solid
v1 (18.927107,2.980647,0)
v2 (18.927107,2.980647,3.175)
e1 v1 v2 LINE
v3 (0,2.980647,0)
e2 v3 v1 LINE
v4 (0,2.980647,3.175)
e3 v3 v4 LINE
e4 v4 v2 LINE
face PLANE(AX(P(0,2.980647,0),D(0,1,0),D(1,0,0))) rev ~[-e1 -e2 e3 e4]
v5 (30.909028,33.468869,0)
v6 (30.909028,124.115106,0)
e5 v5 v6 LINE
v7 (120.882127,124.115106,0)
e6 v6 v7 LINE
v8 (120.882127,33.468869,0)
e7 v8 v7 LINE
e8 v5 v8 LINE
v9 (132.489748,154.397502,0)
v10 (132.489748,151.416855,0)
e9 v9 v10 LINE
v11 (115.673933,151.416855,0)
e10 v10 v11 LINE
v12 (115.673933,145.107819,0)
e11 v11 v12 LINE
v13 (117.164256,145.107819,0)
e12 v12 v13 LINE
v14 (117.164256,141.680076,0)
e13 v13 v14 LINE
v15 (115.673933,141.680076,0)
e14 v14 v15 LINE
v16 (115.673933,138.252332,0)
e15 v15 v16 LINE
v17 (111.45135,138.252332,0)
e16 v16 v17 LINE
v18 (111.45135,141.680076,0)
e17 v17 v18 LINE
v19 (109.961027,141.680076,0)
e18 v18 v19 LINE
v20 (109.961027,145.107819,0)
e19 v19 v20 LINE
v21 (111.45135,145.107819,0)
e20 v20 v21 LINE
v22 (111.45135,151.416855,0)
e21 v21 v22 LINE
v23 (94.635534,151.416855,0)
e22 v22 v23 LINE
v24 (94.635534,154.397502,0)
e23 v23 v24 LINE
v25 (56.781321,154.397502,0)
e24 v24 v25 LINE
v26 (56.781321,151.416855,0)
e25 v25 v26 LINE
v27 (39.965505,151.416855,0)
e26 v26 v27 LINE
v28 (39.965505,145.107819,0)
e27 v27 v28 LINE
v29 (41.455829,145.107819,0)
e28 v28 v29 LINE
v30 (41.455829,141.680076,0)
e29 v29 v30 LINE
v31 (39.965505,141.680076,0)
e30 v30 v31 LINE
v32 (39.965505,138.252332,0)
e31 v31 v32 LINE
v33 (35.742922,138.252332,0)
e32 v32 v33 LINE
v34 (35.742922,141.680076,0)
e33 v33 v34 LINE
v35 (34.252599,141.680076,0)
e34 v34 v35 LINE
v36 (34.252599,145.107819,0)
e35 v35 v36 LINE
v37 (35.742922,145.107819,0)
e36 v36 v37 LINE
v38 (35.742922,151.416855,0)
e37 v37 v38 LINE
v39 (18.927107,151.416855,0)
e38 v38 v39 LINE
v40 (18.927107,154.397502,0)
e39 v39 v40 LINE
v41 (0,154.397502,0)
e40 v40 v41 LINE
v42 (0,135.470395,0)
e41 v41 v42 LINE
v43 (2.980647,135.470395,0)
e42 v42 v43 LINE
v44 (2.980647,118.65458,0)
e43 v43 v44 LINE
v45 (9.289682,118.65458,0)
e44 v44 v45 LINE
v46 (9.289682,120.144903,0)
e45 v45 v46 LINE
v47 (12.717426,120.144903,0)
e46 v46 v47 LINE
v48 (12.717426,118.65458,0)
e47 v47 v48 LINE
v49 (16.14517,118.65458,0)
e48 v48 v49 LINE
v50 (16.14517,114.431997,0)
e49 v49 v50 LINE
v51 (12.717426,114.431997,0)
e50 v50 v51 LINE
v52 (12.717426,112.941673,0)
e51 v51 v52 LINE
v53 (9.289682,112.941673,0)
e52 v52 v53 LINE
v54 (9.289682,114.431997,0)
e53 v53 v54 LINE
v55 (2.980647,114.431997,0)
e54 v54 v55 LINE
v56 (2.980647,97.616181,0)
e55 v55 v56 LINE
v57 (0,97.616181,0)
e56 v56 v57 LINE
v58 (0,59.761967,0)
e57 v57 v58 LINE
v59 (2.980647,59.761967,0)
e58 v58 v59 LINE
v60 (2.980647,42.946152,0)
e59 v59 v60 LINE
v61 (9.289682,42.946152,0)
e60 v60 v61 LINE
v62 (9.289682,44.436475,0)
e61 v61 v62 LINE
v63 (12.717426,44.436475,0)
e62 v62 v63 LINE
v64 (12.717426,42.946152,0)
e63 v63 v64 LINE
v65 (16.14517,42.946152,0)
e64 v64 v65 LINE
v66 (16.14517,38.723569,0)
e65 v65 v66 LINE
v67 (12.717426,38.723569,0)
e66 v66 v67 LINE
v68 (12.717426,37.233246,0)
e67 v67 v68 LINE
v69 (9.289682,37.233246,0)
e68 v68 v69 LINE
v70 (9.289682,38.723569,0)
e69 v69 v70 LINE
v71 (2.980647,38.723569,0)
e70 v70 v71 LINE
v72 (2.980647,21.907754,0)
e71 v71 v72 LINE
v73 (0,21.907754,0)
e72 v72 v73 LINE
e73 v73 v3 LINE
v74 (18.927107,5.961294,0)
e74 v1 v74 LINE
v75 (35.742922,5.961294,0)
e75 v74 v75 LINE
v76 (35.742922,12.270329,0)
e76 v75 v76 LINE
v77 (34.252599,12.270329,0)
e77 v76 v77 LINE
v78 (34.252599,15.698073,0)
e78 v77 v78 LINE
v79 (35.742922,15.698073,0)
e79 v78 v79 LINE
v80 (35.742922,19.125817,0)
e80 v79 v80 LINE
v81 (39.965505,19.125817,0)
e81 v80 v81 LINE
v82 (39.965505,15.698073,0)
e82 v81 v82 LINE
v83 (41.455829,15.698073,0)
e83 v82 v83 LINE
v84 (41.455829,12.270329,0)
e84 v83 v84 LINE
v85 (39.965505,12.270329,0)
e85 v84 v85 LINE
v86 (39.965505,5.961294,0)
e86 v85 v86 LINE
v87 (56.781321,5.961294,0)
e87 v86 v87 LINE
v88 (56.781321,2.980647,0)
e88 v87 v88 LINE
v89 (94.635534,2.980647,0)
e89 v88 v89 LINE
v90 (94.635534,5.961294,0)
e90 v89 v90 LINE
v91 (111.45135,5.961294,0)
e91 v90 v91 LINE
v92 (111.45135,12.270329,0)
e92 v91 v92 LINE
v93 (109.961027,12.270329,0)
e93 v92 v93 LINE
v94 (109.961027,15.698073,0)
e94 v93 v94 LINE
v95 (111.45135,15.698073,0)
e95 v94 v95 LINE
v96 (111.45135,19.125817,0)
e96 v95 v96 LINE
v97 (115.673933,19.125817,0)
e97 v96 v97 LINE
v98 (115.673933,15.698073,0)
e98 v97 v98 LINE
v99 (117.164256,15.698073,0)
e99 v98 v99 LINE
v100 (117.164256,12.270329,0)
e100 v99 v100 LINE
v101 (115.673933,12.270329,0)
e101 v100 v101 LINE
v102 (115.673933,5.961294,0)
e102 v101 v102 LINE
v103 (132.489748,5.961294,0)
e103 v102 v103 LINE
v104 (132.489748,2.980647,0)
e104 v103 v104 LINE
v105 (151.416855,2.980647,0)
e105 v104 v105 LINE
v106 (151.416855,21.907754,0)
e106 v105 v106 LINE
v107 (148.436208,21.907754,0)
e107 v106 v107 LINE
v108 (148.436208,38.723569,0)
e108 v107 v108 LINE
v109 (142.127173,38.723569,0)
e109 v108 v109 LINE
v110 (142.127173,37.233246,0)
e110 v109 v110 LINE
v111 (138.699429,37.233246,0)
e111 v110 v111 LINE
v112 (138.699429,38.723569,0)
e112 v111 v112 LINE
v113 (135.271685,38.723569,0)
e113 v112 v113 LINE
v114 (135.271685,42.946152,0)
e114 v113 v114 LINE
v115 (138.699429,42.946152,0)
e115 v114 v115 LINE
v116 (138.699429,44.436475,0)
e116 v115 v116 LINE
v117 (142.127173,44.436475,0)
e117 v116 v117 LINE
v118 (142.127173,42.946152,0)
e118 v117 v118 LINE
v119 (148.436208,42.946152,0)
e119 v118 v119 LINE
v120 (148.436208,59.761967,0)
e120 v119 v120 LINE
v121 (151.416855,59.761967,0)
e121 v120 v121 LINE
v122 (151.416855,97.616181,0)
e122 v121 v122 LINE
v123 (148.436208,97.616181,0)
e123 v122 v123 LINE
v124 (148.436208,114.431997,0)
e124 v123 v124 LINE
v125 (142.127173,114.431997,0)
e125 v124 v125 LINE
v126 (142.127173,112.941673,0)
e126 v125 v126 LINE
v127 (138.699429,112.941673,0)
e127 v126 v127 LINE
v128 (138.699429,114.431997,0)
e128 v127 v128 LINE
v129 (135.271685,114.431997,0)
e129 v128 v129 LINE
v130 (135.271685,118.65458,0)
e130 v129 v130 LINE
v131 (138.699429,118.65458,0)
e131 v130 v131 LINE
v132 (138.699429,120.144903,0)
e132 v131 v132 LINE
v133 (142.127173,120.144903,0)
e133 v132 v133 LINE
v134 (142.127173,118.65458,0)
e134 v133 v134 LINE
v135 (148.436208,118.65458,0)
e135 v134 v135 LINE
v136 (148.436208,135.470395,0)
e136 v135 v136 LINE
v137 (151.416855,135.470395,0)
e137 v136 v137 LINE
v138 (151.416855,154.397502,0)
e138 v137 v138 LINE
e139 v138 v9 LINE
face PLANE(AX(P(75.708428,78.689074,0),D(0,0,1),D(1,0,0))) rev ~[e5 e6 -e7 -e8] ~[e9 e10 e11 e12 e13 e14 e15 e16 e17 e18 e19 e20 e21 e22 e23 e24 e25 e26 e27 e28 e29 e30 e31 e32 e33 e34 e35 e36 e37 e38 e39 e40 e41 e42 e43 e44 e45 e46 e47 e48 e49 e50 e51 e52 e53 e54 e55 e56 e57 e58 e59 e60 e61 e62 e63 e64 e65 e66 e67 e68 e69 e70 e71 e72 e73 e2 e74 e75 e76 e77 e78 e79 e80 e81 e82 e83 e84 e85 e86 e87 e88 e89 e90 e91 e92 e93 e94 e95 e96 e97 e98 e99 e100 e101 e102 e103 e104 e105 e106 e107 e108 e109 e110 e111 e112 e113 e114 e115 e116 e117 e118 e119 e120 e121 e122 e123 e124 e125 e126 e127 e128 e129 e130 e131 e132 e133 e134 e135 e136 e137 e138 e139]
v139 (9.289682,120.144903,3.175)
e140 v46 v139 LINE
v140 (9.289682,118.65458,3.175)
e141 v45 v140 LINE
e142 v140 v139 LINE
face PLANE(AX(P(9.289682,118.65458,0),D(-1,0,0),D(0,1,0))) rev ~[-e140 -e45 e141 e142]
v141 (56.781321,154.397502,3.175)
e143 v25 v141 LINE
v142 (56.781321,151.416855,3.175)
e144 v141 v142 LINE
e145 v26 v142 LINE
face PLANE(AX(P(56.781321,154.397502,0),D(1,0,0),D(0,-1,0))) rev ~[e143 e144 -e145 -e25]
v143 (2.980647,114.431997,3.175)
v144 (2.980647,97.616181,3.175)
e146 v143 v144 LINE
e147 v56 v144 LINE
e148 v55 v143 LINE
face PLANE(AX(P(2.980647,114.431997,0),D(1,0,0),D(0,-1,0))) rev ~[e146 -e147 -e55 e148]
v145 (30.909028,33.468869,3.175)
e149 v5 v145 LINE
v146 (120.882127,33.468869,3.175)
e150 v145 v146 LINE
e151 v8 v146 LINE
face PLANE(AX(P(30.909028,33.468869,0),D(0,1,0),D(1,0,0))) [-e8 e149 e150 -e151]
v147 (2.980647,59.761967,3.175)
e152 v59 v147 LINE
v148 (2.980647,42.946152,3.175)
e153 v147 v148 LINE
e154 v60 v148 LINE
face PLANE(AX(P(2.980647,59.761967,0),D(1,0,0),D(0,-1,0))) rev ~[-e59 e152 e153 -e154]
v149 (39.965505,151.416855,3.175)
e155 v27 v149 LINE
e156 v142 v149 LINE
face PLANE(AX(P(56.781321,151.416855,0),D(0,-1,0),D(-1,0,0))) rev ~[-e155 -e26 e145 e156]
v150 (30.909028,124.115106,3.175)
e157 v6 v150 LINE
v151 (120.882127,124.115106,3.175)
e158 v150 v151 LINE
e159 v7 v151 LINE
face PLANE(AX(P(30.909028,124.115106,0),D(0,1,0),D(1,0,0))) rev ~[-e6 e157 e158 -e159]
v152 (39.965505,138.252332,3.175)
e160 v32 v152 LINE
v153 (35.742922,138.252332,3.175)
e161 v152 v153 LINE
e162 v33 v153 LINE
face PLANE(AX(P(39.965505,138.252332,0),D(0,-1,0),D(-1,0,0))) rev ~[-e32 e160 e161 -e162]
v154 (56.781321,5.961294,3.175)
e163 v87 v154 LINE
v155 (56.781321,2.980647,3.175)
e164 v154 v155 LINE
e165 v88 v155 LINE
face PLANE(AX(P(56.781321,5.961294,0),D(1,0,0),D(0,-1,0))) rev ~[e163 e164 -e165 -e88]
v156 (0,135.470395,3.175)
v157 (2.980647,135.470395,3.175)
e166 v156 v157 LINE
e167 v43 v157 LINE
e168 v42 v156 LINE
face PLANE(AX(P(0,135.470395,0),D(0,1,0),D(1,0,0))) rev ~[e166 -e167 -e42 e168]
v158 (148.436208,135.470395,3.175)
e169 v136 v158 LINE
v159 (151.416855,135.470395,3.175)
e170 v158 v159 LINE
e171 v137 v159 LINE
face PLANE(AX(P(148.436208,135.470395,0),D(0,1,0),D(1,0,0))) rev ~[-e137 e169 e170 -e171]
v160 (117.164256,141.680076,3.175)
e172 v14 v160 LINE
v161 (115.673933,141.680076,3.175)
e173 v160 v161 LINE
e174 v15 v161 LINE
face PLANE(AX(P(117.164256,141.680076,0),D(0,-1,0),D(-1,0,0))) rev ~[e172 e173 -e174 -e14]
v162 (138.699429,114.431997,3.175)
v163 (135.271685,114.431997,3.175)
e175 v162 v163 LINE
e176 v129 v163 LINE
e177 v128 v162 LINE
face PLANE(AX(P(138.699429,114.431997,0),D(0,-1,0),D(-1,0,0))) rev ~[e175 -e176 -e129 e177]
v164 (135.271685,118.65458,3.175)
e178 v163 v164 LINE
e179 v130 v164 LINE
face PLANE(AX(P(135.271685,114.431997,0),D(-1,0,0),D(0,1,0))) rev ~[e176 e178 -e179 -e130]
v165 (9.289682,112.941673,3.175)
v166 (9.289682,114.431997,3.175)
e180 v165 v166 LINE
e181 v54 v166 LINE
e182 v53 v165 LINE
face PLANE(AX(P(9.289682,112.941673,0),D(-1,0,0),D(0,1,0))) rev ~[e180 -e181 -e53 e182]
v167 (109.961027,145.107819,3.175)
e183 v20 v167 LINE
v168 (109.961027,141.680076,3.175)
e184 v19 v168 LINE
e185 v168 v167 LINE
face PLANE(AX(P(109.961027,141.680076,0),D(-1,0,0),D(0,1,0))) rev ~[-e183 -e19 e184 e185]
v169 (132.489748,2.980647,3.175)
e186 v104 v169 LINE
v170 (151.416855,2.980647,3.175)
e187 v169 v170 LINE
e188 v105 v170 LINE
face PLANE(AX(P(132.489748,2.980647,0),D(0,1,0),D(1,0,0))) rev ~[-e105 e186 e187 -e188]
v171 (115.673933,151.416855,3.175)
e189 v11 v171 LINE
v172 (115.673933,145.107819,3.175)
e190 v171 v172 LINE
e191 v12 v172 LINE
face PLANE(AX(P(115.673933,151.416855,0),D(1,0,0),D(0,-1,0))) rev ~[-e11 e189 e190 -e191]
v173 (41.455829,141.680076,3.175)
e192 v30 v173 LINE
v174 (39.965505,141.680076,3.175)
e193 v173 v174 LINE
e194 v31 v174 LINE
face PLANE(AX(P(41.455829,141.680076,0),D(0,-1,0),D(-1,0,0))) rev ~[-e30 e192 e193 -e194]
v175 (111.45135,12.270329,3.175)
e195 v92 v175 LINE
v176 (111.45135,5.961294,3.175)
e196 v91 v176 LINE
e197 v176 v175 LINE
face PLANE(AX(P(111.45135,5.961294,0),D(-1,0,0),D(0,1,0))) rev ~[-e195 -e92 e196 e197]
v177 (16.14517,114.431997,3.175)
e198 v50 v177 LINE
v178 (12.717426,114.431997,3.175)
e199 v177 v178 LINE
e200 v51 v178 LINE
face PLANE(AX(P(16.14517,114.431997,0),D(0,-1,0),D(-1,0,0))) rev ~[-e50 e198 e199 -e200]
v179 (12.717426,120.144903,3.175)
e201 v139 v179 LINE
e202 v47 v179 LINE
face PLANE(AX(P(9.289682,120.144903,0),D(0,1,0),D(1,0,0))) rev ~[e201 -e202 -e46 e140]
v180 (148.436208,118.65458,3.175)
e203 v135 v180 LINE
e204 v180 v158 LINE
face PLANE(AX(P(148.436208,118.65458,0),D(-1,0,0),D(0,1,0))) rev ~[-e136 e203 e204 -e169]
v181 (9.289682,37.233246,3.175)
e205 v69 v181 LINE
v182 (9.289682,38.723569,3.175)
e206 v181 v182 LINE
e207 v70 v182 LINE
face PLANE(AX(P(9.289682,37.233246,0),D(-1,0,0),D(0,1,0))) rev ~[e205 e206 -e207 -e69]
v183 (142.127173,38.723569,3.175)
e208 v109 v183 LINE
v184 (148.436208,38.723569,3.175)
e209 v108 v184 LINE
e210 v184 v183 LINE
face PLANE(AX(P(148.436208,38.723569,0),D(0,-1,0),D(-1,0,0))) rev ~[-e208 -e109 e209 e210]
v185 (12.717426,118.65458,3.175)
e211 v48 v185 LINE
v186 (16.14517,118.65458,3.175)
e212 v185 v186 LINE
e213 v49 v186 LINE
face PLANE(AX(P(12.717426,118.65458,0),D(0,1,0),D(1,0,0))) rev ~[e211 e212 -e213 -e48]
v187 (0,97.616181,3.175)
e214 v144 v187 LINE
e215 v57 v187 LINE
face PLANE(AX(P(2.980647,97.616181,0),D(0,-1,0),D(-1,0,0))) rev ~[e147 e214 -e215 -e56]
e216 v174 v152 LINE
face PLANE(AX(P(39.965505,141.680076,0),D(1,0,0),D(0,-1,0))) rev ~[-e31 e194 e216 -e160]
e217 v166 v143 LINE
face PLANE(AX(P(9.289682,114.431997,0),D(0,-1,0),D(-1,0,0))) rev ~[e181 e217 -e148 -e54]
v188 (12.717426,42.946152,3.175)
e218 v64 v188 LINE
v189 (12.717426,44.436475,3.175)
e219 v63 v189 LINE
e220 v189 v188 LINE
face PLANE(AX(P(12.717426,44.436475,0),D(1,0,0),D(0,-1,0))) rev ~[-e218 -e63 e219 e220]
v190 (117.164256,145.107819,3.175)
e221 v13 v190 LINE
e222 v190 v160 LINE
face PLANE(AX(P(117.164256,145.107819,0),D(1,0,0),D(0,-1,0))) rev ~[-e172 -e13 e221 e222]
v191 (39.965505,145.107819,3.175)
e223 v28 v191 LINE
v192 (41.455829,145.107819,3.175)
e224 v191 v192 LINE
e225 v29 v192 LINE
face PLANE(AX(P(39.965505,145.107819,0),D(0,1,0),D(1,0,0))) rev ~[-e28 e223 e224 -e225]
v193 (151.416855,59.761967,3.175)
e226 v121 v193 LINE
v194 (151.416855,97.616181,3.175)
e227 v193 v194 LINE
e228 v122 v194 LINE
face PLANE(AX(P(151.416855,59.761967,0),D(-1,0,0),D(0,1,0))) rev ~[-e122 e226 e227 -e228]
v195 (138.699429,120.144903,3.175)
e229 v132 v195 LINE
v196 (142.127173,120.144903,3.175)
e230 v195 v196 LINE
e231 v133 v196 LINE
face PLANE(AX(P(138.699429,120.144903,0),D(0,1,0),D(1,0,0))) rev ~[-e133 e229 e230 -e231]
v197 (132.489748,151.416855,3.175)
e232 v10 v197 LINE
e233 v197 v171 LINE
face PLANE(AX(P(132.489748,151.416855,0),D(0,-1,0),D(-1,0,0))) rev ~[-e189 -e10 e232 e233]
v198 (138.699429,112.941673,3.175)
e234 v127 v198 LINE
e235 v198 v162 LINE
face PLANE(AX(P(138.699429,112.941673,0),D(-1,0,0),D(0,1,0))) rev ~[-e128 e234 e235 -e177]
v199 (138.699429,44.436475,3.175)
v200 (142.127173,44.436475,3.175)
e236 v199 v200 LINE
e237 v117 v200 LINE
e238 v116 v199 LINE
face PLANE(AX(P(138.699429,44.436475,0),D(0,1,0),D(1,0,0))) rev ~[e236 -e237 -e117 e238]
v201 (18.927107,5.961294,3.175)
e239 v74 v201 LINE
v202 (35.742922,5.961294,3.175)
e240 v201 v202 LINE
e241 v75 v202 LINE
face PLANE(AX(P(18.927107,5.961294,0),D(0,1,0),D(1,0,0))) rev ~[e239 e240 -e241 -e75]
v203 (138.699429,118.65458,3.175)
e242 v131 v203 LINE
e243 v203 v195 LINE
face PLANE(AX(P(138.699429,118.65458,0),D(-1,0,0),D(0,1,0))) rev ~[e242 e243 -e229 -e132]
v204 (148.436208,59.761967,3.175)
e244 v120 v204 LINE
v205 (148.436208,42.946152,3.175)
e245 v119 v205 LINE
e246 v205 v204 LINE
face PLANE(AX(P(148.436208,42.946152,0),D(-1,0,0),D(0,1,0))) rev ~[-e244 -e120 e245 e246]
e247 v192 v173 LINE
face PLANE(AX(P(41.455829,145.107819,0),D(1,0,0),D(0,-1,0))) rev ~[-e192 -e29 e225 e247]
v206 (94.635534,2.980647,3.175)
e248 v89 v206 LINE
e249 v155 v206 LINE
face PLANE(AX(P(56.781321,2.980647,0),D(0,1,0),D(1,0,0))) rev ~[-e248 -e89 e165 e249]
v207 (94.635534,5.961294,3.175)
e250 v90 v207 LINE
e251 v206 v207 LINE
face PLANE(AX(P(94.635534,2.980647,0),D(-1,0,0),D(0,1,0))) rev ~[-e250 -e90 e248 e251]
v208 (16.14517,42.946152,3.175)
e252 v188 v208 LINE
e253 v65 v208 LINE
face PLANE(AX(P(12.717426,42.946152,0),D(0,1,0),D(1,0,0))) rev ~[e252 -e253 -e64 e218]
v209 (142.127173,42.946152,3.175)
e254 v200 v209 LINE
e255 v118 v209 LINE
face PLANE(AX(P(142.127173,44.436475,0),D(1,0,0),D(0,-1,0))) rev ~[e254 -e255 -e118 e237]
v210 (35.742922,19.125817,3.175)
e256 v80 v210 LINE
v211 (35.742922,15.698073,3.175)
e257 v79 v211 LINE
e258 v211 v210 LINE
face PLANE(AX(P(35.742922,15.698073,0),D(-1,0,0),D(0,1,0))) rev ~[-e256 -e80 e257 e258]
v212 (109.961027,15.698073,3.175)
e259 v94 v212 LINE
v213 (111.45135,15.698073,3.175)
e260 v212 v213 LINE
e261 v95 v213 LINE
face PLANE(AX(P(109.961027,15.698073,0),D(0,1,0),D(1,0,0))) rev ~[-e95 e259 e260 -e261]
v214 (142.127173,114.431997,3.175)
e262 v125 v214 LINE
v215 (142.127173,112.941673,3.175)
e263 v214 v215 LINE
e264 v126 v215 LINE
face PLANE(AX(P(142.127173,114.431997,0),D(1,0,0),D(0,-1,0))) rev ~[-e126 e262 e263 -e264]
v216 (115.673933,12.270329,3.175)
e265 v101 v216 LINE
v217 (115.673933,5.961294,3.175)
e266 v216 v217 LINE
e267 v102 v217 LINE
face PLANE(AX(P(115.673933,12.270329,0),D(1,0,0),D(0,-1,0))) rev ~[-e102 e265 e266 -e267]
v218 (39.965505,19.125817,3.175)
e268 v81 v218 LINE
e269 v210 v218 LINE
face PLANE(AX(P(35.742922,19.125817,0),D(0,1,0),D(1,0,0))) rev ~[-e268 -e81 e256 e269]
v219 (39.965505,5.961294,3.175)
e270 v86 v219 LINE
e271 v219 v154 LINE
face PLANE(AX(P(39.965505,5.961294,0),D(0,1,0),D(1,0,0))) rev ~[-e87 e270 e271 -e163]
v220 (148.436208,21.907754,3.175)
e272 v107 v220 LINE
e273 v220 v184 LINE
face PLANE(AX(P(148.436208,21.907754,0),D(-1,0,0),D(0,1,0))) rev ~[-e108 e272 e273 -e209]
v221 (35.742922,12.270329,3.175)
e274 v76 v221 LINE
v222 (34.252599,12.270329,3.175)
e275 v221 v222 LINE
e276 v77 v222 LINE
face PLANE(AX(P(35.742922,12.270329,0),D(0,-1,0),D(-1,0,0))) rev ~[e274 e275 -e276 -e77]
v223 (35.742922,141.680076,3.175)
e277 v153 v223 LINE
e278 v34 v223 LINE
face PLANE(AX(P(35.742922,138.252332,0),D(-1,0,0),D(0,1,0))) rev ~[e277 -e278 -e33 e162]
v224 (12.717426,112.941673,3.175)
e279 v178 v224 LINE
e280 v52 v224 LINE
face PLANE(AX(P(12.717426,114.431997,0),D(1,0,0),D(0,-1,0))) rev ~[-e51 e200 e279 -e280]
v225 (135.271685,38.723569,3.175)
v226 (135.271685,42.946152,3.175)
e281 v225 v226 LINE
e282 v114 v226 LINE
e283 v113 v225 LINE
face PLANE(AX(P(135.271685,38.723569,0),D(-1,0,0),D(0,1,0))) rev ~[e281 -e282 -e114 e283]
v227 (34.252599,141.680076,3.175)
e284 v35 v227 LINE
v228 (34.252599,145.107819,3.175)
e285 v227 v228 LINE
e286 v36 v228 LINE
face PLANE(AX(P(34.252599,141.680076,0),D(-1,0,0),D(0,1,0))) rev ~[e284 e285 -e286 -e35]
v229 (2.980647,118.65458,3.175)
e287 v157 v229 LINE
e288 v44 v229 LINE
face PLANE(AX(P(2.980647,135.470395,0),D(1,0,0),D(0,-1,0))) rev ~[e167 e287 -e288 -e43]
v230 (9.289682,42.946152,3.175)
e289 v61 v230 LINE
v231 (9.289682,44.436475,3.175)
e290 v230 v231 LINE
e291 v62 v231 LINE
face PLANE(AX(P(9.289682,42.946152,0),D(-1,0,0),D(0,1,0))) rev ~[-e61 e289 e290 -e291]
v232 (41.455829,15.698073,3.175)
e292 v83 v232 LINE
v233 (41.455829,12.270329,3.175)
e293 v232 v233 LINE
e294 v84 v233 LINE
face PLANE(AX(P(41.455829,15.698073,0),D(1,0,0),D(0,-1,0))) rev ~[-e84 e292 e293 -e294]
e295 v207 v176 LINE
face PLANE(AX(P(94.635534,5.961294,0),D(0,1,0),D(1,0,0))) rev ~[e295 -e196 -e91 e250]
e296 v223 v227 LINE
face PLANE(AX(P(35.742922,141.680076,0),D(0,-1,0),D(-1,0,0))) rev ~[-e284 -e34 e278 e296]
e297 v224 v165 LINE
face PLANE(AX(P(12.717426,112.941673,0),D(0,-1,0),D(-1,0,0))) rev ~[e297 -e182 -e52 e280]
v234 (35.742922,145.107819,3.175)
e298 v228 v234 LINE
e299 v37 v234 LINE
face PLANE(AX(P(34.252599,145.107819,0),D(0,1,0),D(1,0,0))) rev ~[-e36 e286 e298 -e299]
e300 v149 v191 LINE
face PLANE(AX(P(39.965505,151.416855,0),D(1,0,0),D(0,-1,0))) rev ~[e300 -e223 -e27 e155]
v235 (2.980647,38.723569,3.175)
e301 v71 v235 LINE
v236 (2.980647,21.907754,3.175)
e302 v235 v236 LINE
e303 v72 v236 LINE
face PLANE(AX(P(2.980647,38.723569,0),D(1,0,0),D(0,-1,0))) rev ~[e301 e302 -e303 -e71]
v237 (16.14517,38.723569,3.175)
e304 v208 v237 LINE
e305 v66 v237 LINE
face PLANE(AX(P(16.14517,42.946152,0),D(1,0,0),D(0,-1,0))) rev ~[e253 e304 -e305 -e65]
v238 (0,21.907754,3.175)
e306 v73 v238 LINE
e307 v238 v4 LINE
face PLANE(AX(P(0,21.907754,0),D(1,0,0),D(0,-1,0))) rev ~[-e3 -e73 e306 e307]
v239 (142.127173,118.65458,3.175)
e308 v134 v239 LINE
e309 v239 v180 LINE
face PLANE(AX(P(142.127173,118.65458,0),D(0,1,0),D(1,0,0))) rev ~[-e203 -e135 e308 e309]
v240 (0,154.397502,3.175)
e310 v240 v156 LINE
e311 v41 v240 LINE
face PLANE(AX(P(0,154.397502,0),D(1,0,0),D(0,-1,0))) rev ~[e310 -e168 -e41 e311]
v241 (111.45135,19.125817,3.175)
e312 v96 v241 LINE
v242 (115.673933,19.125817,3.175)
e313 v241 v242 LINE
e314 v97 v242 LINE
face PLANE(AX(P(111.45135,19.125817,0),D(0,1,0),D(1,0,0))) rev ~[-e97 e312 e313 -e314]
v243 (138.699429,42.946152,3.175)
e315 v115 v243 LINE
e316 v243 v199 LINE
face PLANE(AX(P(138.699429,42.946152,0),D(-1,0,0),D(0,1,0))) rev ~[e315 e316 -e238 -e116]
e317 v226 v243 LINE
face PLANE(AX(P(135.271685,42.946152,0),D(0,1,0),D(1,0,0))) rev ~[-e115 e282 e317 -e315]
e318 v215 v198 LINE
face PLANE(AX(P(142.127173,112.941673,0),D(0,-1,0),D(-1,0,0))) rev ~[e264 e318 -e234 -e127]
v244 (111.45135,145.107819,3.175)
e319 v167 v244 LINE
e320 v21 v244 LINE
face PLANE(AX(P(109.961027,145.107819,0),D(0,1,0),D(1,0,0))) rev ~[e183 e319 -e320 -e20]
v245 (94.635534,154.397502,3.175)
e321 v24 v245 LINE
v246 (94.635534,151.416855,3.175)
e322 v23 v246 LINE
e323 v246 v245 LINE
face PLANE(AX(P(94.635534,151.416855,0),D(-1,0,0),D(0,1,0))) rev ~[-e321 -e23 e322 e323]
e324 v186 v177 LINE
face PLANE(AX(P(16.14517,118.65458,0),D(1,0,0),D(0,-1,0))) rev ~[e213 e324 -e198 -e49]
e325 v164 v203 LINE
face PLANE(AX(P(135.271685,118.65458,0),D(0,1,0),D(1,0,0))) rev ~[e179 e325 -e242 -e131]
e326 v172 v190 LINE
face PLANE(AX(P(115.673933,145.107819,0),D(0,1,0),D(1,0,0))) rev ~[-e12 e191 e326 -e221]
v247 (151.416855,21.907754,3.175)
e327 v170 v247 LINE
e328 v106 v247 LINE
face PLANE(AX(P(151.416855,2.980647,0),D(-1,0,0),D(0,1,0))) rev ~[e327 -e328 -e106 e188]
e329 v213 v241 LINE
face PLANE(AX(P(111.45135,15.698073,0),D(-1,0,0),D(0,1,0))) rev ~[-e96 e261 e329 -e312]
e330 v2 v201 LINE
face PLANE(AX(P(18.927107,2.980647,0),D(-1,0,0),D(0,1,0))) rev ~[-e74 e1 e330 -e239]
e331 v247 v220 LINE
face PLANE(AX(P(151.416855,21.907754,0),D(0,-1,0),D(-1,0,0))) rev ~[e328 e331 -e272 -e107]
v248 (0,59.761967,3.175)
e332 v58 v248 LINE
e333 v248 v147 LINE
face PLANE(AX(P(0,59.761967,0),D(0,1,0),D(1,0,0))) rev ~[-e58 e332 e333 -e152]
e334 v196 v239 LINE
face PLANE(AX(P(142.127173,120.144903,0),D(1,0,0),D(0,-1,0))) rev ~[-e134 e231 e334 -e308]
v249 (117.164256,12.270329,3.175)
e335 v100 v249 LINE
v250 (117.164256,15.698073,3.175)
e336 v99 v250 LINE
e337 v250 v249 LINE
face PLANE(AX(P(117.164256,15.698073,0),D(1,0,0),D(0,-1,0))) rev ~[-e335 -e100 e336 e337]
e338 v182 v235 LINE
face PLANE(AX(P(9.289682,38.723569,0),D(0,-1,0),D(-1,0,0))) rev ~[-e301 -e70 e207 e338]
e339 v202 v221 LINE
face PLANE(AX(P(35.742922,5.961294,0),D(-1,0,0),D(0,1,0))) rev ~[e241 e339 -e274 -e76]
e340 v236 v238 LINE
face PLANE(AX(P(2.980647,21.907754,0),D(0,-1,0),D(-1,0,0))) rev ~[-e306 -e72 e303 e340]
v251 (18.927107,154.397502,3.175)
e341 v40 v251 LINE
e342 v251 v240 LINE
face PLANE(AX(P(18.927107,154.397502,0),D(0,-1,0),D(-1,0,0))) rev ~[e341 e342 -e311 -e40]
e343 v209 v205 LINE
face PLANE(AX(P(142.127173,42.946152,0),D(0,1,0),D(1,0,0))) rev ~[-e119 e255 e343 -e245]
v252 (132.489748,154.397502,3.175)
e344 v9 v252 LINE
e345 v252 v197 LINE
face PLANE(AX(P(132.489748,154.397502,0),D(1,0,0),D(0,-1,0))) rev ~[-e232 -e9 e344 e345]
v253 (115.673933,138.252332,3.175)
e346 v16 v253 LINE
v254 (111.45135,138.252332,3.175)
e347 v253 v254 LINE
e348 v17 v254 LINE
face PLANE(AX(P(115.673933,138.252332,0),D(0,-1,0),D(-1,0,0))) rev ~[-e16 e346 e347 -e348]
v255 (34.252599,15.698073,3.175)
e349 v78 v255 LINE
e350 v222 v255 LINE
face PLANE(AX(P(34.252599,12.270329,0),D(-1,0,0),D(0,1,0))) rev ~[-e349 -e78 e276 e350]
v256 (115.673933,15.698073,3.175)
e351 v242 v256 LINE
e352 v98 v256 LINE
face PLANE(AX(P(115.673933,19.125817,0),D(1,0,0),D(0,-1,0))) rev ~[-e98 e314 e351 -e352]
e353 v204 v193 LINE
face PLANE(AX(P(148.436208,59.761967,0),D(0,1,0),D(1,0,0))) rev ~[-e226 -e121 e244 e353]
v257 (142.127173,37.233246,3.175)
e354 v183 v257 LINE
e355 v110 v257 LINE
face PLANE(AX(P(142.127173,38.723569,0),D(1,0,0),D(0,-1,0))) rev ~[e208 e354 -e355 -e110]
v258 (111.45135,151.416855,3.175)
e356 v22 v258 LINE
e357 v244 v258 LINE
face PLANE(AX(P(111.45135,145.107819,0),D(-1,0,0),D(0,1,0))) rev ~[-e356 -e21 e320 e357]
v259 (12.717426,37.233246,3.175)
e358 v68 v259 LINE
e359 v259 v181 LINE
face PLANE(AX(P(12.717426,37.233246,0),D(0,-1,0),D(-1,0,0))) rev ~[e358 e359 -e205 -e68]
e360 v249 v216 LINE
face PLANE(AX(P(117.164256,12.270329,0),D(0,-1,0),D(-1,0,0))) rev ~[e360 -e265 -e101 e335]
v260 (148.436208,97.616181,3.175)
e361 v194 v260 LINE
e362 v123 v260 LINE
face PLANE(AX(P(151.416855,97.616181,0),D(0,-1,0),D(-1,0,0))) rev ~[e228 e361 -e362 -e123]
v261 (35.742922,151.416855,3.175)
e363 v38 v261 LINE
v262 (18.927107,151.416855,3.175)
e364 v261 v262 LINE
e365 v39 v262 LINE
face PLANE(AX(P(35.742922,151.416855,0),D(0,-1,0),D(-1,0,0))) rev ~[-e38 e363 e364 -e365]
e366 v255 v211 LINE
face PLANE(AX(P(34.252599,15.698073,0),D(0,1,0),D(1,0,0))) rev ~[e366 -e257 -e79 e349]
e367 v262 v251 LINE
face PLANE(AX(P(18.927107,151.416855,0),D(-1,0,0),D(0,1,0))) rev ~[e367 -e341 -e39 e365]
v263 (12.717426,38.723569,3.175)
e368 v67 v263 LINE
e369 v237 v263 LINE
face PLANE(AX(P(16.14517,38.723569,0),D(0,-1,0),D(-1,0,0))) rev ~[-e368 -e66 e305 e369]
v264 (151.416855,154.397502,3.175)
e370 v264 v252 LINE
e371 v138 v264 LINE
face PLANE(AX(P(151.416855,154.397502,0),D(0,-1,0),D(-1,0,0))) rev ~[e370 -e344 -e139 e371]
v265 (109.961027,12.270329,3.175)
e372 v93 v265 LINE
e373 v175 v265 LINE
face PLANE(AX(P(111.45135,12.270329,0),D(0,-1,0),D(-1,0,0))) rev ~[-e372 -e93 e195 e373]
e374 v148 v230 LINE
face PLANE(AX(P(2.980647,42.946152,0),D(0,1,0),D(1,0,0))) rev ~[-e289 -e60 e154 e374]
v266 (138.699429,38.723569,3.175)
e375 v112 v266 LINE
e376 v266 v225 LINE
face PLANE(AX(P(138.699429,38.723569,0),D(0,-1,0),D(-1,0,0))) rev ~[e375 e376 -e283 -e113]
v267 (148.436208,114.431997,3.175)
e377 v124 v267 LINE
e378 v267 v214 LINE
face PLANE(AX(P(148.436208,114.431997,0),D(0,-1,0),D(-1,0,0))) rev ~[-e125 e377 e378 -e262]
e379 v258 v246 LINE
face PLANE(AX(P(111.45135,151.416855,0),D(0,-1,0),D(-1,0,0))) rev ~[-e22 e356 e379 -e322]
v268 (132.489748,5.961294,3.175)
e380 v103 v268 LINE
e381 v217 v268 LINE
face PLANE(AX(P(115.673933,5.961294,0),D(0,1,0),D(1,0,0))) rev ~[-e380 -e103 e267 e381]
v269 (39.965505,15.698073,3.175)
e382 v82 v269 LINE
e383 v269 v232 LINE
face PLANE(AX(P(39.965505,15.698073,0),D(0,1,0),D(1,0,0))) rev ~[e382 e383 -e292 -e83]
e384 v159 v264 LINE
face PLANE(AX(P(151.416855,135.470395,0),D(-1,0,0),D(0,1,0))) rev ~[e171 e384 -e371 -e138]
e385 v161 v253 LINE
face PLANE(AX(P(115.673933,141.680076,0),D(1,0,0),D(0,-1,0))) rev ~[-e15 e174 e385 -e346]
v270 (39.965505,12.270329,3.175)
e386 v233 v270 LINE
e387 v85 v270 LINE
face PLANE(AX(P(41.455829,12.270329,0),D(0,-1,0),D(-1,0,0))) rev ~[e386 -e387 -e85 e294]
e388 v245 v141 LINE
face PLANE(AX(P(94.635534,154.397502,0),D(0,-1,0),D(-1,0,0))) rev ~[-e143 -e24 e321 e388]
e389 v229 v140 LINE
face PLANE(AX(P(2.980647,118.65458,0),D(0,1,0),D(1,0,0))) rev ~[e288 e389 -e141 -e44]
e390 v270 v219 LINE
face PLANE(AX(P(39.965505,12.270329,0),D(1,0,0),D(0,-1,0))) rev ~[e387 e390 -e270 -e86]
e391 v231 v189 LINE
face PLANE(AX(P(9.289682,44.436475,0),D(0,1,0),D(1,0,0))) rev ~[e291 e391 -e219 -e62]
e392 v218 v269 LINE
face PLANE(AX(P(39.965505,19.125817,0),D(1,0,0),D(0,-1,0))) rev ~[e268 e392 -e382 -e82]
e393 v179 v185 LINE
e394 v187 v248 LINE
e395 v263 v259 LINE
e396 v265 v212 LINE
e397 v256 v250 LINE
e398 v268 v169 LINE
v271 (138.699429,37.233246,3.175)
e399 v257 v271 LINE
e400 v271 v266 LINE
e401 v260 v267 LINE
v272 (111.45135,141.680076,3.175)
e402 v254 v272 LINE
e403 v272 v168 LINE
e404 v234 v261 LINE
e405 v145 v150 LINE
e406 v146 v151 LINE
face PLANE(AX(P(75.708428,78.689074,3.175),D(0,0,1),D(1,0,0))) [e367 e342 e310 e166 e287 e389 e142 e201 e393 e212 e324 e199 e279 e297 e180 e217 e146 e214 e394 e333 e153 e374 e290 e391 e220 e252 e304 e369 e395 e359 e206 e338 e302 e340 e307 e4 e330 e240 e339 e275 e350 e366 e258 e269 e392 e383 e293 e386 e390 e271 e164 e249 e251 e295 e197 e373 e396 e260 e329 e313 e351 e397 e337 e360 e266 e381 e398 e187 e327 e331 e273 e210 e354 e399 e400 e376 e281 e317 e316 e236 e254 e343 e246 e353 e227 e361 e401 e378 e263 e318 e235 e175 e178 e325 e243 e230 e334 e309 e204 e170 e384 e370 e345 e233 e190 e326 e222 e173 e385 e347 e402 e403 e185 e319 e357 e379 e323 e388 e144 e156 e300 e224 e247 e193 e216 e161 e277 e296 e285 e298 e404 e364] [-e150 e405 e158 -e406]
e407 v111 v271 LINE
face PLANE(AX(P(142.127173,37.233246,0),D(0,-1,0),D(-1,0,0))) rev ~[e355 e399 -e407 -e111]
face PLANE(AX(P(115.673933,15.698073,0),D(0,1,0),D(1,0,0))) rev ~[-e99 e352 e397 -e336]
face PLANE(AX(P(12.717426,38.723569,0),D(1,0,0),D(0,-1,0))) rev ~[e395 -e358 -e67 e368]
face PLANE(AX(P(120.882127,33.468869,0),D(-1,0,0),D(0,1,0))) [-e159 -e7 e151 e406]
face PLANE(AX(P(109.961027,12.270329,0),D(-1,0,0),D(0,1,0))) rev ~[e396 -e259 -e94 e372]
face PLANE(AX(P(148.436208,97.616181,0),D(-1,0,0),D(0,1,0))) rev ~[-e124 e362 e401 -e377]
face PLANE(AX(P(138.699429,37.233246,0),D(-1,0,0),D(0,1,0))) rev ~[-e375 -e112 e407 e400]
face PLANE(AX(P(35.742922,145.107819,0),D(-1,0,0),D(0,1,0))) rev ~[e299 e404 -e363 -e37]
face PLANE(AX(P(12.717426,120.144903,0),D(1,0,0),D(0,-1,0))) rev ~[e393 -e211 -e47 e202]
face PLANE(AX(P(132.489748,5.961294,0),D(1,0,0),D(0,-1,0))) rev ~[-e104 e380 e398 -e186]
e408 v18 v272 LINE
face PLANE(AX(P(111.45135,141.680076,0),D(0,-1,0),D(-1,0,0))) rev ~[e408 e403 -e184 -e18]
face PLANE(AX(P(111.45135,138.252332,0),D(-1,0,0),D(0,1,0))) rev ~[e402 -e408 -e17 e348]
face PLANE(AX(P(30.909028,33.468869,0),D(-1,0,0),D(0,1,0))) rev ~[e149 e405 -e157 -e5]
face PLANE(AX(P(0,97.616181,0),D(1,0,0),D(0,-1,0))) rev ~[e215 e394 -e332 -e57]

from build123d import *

# Parameters (mm, degrees)
SKETCH1_W           = 89.973098965
SKETCH1_H           = 90.646237782
BOSS_EXTRUDE1_DEPTH = 3.175


with BuildPart() as part:
    # Sketch1 → Boss-Extrude1 (new body)
    with BuildSketch(Plane.XY):
        Polygon((0, 154.39750188), (0, 135.470394989), (2.980646754, 135.470394989), (2.980646754, 118.65457955), (9.289682385, 118.65457955), (9.289682385, 120.144902927), (12.717426152, 120.144902927), (12.717426152, 118.65457955), (16.14516992, 118.65457955), (16.14516992, 114.431996648), (12.717426152, 114.431996648), (12.717426152, 112.94167327), (9.289682385, 112.94167327), (9.289682385, 114.431996648), (2.980646754, 114.431996648), (2.980646754, 97.616181208), (0, 97.616181208), (0, 59.761967427), (2.980646754, 59.761967427), (2.980646754, 42.946151987), (9.289682385, 42.946151987), (9.289682385, 44.436475364), (12.717426152, 44.436475364), (12.717426152, 42.946151987), (16.14516992, 42.946151987), (16.14516992, 38.723569085), (12.717426152, 38.723569085), (12.717426152, 37.233245708), (9.289682385, 37.233245708), (9.289682385, 38.723569085), (2.980646754, 38.723569085), (2.980646754, 21.907753645), (0, 21.907753645), (0, 2.980646754), (18.927106891, 2.980646754), (18.927106891, 5.961293509), (35.74292233, 5.961293509), (35.74292233, 12.270329139), (34.252598953, 12.270329139), (34.252598953, 15.698072907), (35.74292233, 15.698072907), (35.74292233, 19.125816674), (39.965505232, 19.125816674), (39.965505232, 15.698072907), (41.45582861, 15.698072907), (41.45582861, 12.270329139), (39.965505232, 12.270329139), (39.965505232, 5.961293509), (56.781320672, 5.961293509), (56.781320672, 2.980646754), (94.635534454, 2.980646754), (94.635534454, 5.961293509), (111.451349893, 5.961293509), (111.451349893, 12.270329139), (109.961026516, 12.270329139), (109.961026516, 15.698072907), (111.451349893, 15.698072907), (111.451349893, 19.125816674), (115.673932795, 19.125816674), (115.673932795, 15.698072907), (117.164256172, 15.698072907), (117.164256172, 12.270329139), (115.673932795, 12.270329139), (115.673932795, 5.961293509), (132.489748235, 5.961293509), (132.489748235, 2.980646754), (151.416855126, 2.980646754), (151.416855126, 21.907753645), (148.436208371, 21.907753645), (148.436208371, 38.723569085), (142.127172741, 38.723569085), (142.127172741, 37.233245708), (138.699428973, 37.233245708), (138.699428973, 38.723569085), (135.271685206, 38.723569085), (135.271685206, 42.946151987), (138.699428973, 42.946151987), (138.699428973, 44.436475364), (142.127172741, 44.436475364), (142.127172741, 42.946151987), (148.436208371, 42.946151987), (148.436208371, 59.761967427), (151.416855126, 59.761967427), (151.416855126, 97.616181208), (148.436208371, 97.616181208), (148.436208371, 114.431996648), (142.127172741, 114.431996648), (142.127172741, 112.94167327), (138.699428973, 112.94167327), (138.699428973, 114.431996648), (135.271685206, 114.431996648), (135.271685206, 118.65457955), (138.699428973, 118.65457955), (138.699428973, 120.144902927), (142.127172741, 120.144902927), (142.127172741, 118.65457955), (148.436208371, 118.65457955), (148.436208371, 135.470394989), (151.416855126, 135.470394989), (151.416855126, 154.39750188), (132.489748235, 154.39750188), (132.489748235, 151.416855126), (115.673932795, 151.416855126), (115.673932795, 145.107819495), (117.164256172, 145.107819495), (117.164256172, 141.680075728), (115.673932795, 141.680075728), (115.673932795, 138.25233196), (111.451349893, 138.25233196), (111.451349893, 141.680075728), (109.961026516, 141.680075728), (109.961026516, 145.107819495), (111.451349893, 145.107819495), (111.451349893, 151.416855126), (94.635534454, 151.416855126), (94.635534454, 154.39750188), (56.781320672, 154.39750188), (56.781320672, 151.416855126), (39.965505232, 151.416855126), (39.965505232, 145.107819495), (41.45582861, 145.107819495), (41.45582861, 141.680075728), (39.965505232, 141.680075728), (39.965505232, 138.25233196), (35.74292233, 138.25233196), (35.74292233, 141.680075728), (34.252598953, 141.680075728), (34.252598953, 145.107819495), (35.74292233, 145.107819495), (35.74292233, 151.416855126), (18.927106891, 151.416855126), (18.927106891, 154.39750188), align=None)
        with Locations((75.89557754, 78.791987571)):
            Rectangle(SKETCH1_W, SKETCH1_H, mode=Mode.SUBTRACT)
    extrude(amount=BOSS_EXTRUDE1_DEPTH)


solid = part.part
